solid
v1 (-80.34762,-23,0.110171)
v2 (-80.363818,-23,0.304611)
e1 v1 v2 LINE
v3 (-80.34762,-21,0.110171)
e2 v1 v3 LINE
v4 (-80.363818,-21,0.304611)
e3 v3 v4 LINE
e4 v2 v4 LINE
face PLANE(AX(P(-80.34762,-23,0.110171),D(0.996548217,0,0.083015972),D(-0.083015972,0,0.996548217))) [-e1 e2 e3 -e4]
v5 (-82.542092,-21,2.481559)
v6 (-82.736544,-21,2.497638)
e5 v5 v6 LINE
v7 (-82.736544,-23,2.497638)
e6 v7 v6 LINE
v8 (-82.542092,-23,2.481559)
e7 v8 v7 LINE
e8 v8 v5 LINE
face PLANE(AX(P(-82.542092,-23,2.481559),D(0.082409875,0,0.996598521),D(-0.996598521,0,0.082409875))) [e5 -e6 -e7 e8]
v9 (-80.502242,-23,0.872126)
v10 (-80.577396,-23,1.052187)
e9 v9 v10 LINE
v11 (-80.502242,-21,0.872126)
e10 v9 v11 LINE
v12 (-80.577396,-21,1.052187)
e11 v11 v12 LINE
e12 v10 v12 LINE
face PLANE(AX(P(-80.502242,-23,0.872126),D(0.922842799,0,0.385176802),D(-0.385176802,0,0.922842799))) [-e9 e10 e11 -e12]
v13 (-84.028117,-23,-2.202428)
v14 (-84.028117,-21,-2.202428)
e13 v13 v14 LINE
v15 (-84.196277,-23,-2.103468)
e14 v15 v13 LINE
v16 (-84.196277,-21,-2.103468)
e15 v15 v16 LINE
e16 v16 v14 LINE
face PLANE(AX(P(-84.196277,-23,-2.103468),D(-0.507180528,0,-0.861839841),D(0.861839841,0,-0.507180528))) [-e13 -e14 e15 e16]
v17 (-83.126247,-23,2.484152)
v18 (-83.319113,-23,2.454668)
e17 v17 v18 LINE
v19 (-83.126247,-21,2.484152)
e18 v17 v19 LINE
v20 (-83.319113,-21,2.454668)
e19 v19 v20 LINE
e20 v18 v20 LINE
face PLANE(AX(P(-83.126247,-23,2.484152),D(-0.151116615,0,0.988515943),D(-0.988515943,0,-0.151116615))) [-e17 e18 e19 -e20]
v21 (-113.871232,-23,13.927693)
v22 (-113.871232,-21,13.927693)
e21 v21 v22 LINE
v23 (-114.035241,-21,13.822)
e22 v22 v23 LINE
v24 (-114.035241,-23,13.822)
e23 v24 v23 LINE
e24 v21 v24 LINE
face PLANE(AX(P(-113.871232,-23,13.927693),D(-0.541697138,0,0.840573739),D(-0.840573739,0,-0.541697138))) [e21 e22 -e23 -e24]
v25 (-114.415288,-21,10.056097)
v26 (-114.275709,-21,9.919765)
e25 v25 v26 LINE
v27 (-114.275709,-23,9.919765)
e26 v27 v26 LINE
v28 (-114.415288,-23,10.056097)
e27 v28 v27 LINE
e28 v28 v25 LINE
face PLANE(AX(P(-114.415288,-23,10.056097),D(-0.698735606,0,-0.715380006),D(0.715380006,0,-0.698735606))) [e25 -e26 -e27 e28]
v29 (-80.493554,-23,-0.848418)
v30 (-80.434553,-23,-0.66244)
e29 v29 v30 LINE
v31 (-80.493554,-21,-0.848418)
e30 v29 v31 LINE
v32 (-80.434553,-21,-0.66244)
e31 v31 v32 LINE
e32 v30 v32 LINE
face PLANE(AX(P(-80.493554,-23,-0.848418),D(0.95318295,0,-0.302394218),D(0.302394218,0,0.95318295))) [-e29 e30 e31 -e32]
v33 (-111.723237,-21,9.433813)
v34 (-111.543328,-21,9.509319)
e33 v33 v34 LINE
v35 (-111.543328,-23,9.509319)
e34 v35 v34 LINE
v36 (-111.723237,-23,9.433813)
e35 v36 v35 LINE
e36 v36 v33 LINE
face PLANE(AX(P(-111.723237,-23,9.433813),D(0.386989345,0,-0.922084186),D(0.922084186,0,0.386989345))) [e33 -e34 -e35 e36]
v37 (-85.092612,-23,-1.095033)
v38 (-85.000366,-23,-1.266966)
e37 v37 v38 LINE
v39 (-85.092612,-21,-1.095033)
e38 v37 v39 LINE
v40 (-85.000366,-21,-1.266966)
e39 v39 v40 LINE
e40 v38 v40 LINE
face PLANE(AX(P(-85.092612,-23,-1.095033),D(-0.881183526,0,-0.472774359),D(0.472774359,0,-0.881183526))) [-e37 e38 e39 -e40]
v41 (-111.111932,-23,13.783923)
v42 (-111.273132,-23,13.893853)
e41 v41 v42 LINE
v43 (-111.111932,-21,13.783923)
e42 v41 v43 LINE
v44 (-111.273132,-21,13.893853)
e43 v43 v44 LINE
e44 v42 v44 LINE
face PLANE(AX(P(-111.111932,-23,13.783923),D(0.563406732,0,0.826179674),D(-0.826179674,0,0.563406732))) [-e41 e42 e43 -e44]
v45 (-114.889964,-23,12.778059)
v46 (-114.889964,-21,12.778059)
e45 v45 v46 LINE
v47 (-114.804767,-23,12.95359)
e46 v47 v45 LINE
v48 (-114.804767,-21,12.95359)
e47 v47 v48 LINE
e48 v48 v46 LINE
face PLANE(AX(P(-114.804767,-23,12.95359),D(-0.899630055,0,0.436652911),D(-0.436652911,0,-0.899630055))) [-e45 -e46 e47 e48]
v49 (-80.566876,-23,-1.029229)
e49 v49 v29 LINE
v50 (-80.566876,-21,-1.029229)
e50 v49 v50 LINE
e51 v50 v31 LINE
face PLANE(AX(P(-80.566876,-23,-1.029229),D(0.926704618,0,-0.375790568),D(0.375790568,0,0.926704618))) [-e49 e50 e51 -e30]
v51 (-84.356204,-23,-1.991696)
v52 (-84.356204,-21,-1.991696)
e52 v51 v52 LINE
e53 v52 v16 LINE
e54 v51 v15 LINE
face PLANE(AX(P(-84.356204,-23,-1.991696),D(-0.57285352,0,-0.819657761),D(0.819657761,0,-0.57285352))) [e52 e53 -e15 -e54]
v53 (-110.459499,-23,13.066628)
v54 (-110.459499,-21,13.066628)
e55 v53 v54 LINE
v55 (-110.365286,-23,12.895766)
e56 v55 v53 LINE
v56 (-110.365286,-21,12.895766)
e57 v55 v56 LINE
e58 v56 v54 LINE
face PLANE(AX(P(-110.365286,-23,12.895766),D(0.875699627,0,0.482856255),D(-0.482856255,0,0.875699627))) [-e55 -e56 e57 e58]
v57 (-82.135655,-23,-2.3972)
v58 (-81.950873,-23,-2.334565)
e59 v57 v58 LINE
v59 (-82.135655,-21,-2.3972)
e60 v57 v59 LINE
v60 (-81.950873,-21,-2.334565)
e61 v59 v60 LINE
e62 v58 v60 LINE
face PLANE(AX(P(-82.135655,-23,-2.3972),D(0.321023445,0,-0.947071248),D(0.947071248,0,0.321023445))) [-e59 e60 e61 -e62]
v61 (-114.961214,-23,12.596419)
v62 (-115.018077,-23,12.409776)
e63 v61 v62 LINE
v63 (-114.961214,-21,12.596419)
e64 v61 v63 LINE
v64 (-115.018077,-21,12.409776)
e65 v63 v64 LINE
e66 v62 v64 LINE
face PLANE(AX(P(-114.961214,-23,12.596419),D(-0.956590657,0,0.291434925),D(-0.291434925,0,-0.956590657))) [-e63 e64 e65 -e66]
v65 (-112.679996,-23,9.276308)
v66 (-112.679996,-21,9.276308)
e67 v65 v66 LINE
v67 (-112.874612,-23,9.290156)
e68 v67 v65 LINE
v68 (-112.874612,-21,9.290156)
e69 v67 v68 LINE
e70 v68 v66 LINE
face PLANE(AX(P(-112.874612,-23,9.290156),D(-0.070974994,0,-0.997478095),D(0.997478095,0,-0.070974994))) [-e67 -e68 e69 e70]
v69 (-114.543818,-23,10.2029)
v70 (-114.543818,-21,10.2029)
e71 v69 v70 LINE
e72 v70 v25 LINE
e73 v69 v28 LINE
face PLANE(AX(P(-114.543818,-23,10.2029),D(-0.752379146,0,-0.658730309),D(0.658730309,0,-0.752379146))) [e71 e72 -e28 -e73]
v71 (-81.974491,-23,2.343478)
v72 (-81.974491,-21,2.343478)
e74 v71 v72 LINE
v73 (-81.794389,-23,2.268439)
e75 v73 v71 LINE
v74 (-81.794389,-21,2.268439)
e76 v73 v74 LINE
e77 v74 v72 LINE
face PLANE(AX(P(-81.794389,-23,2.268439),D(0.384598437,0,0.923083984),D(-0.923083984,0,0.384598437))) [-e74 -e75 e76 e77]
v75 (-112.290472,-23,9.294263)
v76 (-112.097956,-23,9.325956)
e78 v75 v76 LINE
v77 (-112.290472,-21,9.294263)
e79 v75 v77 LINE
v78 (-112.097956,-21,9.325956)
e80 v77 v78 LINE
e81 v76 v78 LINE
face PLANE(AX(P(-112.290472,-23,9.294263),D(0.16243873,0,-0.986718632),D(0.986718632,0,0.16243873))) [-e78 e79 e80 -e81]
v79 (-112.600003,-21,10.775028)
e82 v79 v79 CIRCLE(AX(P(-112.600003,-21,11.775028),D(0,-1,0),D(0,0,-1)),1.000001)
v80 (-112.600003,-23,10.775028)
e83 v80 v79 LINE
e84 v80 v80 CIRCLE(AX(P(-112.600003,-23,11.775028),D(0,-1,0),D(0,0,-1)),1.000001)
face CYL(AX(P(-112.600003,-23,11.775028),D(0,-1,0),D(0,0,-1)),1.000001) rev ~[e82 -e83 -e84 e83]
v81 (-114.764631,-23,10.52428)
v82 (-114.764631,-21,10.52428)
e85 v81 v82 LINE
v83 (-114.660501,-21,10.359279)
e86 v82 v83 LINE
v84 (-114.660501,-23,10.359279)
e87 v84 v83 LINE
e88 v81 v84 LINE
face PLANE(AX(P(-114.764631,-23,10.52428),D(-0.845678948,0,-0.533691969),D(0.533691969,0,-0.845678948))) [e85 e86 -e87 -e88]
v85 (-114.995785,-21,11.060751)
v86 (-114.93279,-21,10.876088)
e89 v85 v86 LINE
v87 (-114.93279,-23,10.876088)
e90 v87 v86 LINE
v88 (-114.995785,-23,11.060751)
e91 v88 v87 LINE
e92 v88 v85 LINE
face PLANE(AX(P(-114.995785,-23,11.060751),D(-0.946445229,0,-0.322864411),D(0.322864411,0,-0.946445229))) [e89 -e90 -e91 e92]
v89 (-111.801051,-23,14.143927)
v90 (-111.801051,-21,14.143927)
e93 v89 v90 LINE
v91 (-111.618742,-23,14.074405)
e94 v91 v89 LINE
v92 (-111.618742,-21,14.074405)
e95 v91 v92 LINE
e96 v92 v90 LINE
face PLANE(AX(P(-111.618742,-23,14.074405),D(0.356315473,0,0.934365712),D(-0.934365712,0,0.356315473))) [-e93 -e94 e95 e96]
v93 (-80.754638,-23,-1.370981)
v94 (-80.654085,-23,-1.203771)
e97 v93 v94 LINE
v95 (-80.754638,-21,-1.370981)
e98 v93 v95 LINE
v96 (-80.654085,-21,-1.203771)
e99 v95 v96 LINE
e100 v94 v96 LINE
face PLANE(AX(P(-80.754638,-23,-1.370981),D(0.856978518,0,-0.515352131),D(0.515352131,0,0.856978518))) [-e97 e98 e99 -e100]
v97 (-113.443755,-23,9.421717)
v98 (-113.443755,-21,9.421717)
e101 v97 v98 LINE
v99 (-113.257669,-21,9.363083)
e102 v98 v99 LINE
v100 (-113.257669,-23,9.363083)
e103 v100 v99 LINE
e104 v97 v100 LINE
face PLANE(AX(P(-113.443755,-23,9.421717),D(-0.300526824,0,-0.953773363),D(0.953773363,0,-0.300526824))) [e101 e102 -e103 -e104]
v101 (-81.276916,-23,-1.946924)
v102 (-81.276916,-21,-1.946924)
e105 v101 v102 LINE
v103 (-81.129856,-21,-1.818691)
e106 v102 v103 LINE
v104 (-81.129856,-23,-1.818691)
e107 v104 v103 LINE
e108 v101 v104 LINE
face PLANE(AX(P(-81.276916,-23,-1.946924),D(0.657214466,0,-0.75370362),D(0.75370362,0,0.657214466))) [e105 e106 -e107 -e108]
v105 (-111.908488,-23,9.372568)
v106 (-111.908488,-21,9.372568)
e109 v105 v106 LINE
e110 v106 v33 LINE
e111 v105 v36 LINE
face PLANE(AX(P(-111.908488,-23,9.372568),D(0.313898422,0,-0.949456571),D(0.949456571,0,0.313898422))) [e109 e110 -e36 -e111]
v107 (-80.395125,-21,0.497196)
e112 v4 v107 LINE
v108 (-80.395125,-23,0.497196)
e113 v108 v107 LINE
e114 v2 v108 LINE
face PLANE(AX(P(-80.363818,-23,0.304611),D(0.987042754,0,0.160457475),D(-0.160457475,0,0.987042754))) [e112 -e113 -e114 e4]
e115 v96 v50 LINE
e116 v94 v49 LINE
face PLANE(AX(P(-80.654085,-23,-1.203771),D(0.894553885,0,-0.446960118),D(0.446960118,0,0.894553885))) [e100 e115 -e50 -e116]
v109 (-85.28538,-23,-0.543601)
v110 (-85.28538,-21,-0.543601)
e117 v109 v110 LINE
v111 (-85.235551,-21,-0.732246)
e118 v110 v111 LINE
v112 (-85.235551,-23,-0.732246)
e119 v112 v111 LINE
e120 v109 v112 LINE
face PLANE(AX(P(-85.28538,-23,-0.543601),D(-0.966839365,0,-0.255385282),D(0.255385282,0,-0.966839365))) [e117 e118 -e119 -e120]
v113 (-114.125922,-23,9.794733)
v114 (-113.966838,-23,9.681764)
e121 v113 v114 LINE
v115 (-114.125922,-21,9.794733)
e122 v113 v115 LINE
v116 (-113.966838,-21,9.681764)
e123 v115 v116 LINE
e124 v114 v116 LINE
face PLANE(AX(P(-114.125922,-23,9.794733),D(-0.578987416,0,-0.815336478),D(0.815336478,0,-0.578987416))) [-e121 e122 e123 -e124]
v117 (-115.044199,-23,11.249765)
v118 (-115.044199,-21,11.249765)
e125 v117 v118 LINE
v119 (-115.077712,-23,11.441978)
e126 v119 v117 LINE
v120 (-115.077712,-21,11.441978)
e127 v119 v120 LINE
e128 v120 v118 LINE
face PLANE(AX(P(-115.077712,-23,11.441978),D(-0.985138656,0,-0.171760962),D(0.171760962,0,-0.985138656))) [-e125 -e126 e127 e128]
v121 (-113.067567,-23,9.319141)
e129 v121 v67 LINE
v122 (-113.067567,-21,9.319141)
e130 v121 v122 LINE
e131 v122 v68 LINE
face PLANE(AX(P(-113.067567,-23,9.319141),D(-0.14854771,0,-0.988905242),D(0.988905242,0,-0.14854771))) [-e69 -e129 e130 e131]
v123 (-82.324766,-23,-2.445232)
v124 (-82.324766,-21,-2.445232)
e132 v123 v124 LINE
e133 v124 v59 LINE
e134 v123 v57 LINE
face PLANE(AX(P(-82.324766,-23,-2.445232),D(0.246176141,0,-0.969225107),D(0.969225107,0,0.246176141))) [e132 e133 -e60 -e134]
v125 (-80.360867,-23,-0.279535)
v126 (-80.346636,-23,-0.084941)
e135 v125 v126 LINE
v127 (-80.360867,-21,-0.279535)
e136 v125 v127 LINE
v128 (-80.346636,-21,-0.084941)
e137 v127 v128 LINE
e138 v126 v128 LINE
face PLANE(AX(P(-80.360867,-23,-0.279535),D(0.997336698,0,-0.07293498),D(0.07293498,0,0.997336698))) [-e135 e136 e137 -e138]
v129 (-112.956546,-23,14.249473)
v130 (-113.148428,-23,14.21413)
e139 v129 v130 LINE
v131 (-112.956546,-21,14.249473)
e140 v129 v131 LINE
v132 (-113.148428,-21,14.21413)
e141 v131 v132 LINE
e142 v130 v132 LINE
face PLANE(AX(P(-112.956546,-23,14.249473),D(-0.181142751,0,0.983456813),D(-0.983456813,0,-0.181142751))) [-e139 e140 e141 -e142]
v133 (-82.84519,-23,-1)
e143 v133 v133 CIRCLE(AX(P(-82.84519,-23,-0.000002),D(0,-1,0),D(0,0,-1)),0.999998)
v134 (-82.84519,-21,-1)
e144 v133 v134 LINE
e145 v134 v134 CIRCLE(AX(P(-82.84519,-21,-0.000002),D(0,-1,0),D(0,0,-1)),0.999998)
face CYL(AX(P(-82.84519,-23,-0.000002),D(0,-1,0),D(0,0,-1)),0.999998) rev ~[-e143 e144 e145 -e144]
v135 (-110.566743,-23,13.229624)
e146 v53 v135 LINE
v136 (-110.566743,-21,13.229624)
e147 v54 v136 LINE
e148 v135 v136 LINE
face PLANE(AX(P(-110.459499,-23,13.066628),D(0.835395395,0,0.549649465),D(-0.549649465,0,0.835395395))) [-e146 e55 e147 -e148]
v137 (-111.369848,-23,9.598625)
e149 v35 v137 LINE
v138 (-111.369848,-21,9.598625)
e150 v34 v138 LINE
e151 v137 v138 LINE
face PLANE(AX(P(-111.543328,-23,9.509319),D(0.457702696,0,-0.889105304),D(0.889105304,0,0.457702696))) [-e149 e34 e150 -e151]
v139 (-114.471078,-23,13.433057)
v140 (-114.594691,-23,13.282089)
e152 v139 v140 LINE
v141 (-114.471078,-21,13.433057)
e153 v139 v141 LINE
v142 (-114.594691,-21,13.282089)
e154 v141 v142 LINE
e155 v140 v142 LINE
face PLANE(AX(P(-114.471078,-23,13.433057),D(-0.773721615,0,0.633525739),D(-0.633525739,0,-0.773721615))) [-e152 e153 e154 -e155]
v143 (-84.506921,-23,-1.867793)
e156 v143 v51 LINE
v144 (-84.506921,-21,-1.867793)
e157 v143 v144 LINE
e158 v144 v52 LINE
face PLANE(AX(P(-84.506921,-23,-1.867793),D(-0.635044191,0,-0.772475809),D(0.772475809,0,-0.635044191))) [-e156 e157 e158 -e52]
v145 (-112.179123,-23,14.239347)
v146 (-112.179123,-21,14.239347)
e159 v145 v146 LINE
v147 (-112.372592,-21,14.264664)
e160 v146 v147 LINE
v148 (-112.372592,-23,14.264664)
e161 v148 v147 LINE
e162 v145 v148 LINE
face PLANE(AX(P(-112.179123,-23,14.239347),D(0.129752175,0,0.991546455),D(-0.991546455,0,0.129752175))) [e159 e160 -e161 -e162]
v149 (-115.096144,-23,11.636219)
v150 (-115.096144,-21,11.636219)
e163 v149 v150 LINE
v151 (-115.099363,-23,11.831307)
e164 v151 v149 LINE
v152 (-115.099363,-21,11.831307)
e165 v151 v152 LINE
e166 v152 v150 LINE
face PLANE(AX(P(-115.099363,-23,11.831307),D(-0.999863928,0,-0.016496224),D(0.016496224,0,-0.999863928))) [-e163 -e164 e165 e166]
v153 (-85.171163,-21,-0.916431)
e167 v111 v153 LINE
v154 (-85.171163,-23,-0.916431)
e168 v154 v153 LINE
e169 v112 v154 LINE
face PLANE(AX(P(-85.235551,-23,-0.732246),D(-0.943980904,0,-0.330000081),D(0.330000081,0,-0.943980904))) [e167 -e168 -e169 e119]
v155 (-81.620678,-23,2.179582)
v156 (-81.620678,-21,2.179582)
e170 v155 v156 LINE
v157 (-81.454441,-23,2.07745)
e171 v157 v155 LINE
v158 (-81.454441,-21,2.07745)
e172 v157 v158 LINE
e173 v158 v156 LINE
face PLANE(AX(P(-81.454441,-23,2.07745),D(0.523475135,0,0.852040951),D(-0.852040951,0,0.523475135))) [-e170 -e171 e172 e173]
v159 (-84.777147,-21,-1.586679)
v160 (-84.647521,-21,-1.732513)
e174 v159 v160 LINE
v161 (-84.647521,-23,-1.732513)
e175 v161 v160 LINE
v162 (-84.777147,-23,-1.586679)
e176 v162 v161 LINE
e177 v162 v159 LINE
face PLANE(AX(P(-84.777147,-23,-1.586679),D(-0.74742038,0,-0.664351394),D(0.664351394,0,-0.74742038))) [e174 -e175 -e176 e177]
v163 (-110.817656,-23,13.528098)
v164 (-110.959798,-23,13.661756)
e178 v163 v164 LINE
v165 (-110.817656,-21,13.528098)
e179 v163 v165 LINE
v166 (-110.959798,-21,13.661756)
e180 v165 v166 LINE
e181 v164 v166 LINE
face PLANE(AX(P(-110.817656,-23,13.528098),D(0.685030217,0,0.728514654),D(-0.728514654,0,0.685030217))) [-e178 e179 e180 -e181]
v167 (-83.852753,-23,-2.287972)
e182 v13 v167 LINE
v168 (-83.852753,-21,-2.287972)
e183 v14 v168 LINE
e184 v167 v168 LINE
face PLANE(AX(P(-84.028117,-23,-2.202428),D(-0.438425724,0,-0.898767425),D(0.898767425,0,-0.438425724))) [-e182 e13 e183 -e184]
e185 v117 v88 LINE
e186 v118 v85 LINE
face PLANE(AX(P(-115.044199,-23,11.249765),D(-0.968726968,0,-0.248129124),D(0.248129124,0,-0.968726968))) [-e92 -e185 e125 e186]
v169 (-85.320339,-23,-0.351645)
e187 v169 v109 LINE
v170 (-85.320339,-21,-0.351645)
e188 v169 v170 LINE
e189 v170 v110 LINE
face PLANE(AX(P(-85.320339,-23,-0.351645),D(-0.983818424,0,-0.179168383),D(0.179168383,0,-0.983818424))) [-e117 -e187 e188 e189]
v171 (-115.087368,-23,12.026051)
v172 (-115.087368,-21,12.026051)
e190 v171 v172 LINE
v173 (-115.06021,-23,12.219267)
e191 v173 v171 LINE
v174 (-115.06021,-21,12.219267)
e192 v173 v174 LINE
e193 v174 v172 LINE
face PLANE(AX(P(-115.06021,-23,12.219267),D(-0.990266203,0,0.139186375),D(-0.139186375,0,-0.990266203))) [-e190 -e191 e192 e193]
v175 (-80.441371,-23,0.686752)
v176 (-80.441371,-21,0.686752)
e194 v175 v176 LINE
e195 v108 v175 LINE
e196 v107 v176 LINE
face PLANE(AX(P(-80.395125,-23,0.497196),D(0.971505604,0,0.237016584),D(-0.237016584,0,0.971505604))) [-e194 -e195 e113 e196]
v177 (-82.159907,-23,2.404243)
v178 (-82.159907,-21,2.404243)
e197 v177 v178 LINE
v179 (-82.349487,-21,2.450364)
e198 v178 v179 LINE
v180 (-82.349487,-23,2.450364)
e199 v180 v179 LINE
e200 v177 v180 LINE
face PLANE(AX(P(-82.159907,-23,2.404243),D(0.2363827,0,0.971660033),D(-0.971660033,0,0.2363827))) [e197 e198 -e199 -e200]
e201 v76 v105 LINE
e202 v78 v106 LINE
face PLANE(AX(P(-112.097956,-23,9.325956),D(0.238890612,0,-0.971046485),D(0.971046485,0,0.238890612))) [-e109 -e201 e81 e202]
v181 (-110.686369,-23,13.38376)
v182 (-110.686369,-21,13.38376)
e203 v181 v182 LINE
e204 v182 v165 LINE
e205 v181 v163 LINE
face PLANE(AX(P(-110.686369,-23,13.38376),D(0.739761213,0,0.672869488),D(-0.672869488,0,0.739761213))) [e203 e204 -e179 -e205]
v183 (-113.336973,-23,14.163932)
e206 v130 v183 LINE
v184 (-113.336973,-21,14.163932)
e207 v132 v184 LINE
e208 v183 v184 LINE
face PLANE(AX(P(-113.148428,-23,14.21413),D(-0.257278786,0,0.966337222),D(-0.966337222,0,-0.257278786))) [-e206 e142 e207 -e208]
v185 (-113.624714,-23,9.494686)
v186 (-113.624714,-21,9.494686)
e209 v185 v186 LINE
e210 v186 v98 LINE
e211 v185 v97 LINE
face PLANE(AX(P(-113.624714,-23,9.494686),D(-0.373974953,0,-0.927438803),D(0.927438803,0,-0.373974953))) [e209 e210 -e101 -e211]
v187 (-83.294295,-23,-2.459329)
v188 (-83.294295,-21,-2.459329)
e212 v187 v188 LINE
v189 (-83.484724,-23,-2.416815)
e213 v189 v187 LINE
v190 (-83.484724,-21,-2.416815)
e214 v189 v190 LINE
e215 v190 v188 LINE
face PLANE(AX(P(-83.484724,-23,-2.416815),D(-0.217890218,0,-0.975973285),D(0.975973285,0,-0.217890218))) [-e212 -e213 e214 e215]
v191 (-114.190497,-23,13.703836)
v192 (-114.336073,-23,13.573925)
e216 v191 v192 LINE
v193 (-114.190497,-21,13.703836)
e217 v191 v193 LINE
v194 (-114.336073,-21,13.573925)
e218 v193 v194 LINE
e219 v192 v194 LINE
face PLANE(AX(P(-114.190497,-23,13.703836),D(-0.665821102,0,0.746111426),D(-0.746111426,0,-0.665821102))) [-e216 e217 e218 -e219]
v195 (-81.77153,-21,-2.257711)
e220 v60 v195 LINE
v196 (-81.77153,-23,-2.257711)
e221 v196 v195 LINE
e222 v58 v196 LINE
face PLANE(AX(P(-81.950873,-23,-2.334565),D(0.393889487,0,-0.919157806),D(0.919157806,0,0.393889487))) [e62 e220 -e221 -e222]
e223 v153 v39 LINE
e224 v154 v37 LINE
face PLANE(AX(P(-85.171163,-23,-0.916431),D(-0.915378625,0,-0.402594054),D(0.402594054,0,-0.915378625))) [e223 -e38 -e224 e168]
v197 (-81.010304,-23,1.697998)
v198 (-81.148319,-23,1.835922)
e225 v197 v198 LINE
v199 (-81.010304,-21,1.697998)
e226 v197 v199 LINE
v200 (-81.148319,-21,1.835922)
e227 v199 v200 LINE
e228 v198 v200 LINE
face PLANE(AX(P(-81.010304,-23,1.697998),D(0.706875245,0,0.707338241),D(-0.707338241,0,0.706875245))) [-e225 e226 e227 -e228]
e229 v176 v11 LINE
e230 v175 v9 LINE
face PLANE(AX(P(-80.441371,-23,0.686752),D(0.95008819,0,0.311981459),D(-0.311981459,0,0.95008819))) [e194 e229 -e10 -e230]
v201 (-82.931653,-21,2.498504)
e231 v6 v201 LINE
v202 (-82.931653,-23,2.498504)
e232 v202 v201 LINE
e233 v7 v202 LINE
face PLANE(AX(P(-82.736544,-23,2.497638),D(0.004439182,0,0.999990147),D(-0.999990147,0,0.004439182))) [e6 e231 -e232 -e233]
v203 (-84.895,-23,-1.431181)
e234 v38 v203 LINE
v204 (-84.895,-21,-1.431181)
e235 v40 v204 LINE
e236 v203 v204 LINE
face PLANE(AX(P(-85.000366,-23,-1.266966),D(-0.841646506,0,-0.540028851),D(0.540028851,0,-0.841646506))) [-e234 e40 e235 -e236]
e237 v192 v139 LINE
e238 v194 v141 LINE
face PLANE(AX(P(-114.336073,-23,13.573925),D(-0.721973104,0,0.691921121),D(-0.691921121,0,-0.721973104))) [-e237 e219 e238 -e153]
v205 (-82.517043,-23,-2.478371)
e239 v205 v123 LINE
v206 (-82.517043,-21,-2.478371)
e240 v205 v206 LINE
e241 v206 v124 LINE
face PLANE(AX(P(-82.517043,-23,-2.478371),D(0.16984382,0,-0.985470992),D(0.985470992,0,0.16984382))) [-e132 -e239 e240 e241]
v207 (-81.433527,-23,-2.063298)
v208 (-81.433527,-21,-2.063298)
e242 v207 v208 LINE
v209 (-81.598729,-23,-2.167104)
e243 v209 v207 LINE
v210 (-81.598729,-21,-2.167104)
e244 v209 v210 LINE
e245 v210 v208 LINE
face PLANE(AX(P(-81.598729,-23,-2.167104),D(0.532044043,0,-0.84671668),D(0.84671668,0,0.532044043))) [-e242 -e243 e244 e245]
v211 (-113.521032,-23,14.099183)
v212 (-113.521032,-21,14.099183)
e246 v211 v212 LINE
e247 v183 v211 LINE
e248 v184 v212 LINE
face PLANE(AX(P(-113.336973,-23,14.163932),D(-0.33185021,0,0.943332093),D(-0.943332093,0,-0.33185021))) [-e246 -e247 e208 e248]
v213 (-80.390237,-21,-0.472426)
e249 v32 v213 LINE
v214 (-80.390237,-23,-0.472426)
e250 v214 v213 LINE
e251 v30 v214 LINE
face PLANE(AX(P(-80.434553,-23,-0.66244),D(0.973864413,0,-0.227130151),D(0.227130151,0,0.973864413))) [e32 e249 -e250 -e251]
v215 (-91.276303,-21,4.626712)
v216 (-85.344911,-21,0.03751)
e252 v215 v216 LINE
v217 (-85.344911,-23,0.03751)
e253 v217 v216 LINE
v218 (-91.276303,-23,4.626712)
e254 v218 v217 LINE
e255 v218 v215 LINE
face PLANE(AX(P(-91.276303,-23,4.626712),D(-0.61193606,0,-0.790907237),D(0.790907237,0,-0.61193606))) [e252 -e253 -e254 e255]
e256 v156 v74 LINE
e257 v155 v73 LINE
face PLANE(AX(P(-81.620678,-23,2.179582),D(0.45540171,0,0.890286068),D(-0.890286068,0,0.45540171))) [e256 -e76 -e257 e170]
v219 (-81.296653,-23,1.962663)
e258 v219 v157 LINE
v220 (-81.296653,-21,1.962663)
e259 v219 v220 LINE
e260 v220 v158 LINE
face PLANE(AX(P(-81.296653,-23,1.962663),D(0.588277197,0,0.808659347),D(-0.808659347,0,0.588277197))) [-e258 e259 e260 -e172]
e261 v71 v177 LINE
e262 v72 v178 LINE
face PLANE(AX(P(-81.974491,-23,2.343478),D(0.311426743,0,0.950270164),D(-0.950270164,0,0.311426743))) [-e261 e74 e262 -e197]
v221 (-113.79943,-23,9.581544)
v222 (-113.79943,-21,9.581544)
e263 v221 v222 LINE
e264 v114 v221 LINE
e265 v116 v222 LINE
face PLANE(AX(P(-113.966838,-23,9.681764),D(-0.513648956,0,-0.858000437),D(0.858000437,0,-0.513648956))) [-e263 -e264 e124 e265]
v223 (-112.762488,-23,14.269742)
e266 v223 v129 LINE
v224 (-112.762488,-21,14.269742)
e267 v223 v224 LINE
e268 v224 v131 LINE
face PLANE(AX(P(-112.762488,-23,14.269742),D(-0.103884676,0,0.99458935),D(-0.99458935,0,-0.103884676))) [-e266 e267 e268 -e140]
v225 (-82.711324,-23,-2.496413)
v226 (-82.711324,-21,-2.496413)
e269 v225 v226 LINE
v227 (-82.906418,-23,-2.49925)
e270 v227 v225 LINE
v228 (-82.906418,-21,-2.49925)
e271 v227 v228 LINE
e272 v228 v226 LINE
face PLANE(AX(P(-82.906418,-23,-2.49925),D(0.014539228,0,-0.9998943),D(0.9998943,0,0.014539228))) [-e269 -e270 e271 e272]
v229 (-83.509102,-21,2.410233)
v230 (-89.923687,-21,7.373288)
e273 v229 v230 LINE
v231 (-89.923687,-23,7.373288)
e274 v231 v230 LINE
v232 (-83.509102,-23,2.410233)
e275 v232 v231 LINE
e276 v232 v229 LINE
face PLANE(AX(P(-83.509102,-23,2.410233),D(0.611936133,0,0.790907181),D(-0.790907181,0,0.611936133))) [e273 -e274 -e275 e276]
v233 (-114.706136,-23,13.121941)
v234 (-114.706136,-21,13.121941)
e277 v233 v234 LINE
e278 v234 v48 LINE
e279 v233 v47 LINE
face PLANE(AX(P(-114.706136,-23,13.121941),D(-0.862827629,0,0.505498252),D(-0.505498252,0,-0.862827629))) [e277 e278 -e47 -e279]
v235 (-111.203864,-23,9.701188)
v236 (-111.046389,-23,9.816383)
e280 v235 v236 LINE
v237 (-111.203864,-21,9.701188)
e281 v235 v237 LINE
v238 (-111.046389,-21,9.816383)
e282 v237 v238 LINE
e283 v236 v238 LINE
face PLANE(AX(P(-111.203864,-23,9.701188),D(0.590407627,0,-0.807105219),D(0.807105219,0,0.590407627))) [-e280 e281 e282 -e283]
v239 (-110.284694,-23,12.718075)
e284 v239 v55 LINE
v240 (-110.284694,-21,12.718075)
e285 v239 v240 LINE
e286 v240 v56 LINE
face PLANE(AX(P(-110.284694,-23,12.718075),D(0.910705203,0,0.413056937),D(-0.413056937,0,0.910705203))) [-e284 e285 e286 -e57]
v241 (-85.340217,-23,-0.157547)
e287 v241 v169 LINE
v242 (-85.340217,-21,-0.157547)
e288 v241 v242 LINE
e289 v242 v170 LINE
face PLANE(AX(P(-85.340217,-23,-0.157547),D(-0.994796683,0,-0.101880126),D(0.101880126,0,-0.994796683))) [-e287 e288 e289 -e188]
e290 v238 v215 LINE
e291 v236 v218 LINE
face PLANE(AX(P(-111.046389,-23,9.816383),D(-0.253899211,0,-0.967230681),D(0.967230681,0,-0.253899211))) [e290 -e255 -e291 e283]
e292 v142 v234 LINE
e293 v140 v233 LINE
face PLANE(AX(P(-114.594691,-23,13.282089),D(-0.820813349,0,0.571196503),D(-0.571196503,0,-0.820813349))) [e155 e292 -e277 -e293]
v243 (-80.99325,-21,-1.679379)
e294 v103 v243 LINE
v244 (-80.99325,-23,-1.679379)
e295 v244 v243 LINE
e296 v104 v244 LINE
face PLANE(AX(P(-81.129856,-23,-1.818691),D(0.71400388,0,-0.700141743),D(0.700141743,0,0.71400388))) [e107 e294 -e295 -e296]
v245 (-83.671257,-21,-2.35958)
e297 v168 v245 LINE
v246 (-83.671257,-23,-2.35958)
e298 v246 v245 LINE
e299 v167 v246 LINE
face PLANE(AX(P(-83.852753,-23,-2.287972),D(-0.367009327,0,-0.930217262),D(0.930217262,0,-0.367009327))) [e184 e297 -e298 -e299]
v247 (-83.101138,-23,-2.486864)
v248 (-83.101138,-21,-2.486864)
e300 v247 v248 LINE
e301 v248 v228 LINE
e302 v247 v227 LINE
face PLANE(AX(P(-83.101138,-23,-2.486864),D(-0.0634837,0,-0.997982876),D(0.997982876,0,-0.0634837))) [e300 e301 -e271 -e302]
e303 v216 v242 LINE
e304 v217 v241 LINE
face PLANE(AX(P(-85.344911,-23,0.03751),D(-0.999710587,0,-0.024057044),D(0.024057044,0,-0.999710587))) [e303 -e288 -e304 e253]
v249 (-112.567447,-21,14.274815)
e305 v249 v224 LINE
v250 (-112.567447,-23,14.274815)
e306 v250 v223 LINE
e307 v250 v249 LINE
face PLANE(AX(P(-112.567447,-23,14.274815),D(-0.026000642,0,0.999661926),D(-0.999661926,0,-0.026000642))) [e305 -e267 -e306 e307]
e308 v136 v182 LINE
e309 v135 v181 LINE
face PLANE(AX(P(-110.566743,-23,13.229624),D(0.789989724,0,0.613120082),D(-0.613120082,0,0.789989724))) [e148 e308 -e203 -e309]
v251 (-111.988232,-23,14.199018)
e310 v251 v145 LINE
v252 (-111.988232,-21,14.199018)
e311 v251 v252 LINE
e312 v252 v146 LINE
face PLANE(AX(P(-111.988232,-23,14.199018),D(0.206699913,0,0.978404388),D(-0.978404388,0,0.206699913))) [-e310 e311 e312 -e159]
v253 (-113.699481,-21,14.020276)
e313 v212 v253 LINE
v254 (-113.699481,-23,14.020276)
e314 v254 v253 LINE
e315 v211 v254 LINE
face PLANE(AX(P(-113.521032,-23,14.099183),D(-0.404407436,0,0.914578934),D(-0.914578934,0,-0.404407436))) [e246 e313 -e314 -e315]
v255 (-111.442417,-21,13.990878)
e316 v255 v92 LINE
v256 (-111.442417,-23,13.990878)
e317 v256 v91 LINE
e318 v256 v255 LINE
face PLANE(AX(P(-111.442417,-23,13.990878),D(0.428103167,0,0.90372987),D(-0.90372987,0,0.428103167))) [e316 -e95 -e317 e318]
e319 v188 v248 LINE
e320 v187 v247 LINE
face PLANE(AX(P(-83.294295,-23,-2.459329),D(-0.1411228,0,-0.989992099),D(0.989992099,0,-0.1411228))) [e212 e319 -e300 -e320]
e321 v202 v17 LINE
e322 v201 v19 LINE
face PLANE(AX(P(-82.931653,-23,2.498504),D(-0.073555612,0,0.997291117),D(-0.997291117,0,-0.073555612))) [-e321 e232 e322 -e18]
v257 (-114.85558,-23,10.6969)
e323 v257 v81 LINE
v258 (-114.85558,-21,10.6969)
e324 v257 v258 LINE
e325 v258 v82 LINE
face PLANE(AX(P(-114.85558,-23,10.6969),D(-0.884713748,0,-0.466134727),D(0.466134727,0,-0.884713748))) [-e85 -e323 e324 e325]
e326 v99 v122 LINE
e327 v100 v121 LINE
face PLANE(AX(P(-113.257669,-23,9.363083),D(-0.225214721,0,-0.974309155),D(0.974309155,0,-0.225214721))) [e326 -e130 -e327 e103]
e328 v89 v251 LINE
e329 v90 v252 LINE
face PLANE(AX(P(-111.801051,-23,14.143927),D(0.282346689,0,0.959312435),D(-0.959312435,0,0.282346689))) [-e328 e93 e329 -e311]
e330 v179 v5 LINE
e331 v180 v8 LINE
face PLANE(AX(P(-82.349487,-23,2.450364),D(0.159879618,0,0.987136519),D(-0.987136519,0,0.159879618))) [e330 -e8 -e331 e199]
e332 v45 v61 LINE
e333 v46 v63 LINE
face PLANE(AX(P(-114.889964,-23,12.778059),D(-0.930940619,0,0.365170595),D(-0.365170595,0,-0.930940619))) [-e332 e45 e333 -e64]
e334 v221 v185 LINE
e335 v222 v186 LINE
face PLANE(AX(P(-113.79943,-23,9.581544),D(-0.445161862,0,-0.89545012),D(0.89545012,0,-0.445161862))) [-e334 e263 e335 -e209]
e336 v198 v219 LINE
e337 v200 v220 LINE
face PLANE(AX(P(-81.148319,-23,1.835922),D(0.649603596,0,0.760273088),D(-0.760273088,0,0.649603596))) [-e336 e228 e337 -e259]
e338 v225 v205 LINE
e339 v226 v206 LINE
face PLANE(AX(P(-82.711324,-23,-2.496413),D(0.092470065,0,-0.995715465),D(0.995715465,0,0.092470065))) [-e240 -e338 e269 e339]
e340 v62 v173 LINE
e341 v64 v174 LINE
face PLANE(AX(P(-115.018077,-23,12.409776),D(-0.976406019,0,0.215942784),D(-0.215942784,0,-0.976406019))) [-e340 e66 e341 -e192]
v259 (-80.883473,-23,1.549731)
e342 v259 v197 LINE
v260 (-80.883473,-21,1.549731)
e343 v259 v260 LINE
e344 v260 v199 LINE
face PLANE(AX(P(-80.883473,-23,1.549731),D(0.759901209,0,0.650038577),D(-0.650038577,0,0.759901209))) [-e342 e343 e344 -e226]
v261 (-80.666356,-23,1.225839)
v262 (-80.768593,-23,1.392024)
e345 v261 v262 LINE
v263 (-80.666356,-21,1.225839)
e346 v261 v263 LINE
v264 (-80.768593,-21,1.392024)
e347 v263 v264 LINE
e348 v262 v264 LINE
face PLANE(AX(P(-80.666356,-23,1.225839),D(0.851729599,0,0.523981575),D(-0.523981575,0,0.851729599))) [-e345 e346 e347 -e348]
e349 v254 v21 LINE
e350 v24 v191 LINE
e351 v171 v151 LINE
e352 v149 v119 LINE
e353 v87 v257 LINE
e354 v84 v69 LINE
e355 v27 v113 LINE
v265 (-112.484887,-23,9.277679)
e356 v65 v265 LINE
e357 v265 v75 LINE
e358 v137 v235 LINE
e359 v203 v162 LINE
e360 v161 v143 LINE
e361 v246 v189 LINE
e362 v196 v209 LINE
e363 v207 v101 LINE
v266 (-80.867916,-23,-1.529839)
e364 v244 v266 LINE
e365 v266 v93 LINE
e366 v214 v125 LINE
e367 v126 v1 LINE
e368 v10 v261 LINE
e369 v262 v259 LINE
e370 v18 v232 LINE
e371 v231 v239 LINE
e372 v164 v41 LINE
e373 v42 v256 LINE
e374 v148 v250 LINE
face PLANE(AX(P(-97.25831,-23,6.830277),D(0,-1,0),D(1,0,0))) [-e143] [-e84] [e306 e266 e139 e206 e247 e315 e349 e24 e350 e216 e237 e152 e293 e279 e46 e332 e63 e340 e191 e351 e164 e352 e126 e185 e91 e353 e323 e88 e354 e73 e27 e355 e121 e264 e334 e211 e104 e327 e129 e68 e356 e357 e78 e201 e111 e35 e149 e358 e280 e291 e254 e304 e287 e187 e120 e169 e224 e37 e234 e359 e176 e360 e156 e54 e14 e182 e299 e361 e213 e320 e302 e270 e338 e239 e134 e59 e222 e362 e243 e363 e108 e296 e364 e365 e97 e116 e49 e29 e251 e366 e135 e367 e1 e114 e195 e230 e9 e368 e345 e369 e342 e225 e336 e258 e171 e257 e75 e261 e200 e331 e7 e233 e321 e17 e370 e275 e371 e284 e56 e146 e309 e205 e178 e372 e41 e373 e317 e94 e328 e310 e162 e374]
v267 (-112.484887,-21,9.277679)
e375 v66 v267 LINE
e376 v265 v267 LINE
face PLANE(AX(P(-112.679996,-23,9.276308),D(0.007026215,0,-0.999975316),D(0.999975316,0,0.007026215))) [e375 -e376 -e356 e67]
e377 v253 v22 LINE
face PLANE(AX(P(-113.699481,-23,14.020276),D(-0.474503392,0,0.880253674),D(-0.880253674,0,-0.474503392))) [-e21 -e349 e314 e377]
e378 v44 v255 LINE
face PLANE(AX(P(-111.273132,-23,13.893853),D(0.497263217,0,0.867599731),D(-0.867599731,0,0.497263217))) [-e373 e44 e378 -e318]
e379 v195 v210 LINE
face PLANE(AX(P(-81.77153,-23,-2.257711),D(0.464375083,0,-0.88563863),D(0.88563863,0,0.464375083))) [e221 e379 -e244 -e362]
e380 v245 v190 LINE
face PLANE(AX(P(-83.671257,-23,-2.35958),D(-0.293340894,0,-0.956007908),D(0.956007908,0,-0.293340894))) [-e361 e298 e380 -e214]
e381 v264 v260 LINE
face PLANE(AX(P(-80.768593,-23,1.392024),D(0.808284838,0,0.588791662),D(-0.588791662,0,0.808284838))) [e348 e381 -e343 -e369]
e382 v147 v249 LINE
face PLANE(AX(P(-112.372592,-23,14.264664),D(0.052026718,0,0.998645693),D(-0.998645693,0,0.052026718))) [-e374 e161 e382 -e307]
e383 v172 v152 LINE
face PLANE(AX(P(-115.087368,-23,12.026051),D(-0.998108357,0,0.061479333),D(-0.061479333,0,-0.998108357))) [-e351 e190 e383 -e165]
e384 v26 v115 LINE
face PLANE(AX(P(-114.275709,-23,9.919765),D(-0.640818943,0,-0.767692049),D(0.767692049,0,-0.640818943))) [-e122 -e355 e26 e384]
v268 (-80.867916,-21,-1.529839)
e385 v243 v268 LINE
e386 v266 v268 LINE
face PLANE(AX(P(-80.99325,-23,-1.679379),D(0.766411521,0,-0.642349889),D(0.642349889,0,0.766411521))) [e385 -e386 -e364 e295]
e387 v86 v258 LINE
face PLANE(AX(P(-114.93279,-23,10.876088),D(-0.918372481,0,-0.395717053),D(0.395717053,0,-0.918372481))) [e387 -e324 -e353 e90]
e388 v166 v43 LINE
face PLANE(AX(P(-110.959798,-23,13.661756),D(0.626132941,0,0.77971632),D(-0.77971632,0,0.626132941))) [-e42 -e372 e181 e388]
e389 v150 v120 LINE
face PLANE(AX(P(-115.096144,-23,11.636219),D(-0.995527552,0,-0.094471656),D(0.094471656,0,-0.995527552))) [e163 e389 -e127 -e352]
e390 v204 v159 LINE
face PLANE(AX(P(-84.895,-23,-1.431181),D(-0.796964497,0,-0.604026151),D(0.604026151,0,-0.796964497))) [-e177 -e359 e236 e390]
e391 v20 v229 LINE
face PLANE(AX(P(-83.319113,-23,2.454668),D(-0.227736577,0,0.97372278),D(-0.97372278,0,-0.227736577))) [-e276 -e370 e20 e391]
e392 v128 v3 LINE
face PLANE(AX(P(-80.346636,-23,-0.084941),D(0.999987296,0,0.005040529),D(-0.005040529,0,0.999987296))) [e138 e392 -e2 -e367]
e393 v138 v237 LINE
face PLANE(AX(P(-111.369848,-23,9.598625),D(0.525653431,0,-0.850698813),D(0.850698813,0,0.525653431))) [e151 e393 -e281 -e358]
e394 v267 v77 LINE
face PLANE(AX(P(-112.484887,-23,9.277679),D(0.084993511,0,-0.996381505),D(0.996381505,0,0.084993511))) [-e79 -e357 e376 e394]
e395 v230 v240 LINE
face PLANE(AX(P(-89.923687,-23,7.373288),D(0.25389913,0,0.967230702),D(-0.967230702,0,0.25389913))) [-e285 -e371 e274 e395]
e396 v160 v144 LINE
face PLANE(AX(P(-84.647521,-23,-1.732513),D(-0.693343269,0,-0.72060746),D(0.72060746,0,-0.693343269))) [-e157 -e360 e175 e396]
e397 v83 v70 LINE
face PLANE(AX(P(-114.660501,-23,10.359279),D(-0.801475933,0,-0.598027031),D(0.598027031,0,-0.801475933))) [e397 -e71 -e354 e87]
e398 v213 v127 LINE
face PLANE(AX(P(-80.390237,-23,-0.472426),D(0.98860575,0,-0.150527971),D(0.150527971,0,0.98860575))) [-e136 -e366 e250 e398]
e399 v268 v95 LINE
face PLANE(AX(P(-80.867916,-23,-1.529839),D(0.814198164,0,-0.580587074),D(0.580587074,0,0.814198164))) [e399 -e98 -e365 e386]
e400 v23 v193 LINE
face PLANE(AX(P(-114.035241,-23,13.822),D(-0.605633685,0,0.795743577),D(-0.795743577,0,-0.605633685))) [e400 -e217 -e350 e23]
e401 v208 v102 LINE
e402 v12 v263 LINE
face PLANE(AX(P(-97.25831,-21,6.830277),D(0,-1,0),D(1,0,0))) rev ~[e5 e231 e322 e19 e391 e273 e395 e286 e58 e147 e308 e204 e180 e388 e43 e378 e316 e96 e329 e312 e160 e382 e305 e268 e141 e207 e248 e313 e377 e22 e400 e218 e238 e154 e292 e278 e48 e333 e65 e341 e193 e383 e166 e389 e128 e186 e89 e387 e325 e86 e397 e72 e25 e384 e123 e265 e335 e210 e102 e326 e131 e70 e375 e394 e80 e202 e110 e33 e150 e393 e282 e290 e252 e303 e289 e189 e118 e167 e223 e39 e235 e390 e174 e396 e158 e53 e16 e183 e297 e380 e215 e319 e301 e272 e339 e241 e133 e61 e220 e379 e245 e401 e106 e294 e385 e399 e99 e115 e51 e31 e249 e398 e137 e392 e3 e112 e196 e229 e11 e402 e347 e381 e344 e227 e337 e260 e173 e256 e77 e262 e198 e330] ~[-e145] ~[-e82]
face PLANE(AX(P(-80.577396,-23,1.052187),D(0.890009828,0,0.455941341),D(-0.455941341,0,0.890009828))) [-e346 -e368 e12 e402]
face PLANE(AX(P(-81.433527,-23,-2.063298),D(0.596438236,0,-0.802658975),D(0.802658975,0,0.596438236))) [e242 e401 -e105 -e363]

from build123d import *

# Parameters (mm, degrees)
SKETCH_1_R      = 0.999998023
SKETCH_1_R_2    = 1.000000976
EXTRUDE_1_DEPTH = 2.000000328


with BuildPart() as part:
    # Эскиз1 → Бобышка-Вытянуть1 (new body)
    with BuildSketch(Plane.XZ.offset(23.000000045)):
        Polygon((-84.028117359, -2.202427713), (-83.852753043, -2.287971787), (-83.6712569, -2.35957955), (-83.484724164, -2.416815143), (-83.294294775, -2.45932932), (-83.101138473, -2.486863639), (-82.906417549, -2.499250229), (-82.711324096, -2.496413421), (-82.517042756, -2.478370909), (-82.324765623, -2.445232356), (-82.135654986, -2.397199627), (-81.950873137, -2.334565157), (-81.771530211, -2.257710788), (-81.598728895, -2.167104278), (-81.433527172, -2.063297899), (-81.276915967, -1.946923556), (-81.129856408, -1.818690565), (-80.993250012, -1.679379493), (-80.867916346, -1.529839239), (-80.754637718, -1.370980637), (-80.654084682, -1.203771099), (-80.566875637, -1.029229374), (-80.493554473, -0.848418393), (-80.434553325, -0.662439677), (-80.390237272, -0.472426036), (-80.360867083, -0.279534725), (-80.346636474, -0.084940737), (-80.347619951, 0.110170622), (-80.363817513, 0.304610934), (-80.395124853, 0.497195811), (-80.441370606, 0.686752202), (-80.50224185, 0.872125558), (-80.577395856, 1.052186592), (-80.666355789, 1.225838787), (-80.768592656, 1.392024336), (-80.883473158, 1.549730659), (-81.010304391, 1.697997563), (-81.148318946, 1.835921779), (-81.296652555, 1.96266314), (-81.454440951, 2.077449812), (-81.620678306, 2.17958237), (-81.794388592, 2.268439159), (-81.974491477, 2.343478147), (-82.159906626, 2.40424322), (-82.349486649, 2.450363711), (-82.542091608, 2.481558593), (-82.736544311, 2.49763811), (-82.931652665, 2.49850424), (-83.126246929, 2.484151861), (-83.319112659, 2.454668051), (-83.509102464, 2.410232788), (-89.923687279, 7.373288274), (-110.284693539, 12.718074955), (-110.365286469, 12.895765714), (-110.459499061, 13.066628017), (-110.566742718, 13.229624368), (-110.68636924, 13.383760117), (-110.817655921, 13.528098352), (-110.959798098, 13.66175618), (-111.111931503, 13.78392335), (-111.273132265, 13.893852942), (-111.442416906, 13.990878128), (-111.618742347, 14.074404724), (-111.801050603, 14.143927023), (-111.98823154, 14.199018478), (-112.179122865, 14.239346609), (-112.372592092, 14.264663681), (-112.567447126, 14.274815097), (-112.762488425, 14.269742183), (-112.956546247, 14.249472879), (-113.1484285, 14.214130118), (-113.336972892, 14.163931832), (-113.521032035, 14.099182561), (-113.699480891, 14.020276256), (-113.871231675, 13.927693479), (-114.035241306, 13.821999542), (-114.190496504, 13.703836128), (-114.336073399, 13.573925011), (-114.471077919, 13.433056884), (-114.594690502, 13.282089494), (-114.706136286, 13.121941127), (-114.804767072, 12.95358967), (-114.889964461, 12.778058648), (-114.961214364, 12.596419081), (-115.018077195, 12.409775518), (-115.060210228, 12.219266966), (-115.087367594, 12.026051059), (-115.099363029, 11.831306852), (-115.096144378, 11.636218987), (-115.077711642, 11.441977695), (-115.04419893, 11.249764822), (-114.995785058, 11.060751043), (-114.932790399, 10.876088403), (-114.855580032, 10.696900077), (-114.764630795, 10.524280369), (-114.66050148, 10.35927888), (-114.543817937, 10.202899575), (-114.415287971, 10.05609706), (-114.275708795, 9.919765405), (-114.125922322, 9.794733487), (-113.966837525, 9.681764059), (-113.79943043, 9.581544437), (-113.624714315, 9.494686499), (-113.443754613, 9.421717376), (-113.257668912, 9.363083169), (-113.067567348, 9.319140576), (-112.874612212, 9.290155955), (-112.679995596, 9.276308119), (-112.484887242, 9.277679026), (-112.290471792, 9.294263087), (-112.09795624, 9.325955994), (-111.908487976, 9.372567758), (-111.72323674, 9.433813393), (-111.54332757, 9.50931944), (-111.369848251, 9.598624893), (-111.203864217, 9.701187722), (-111.046388745, 9.816383012), (-91.276302934, 4.62671183), (-85.344910622, 0.037510123), (-85.340216756, -0.157547402), (-85.320338607, -0.351645285), (-85.285380483, -0.543601287), (-85.235551, -0.732246088), (-85.171163082, -0.916430785), (-85.092611611, -1.095033367), (-85.000365973, -1.266965992), (-84.894999862, -1.431181328), (-84.777146578, -1.586679369), (-84.647521377, -1.73251261), (-84.50692147, -1.867792918), (-84.356203675, -1.991696423), (-84.196276963, -2.10346817), align=None)
        with Locations(Location((-82.845189618, -1.945e-06, 0), (0, 0, 270))):
            Circle(SKETCH_1_R, mode=Mode.SUBTRACT)
        with Locations(Location((-112.600002971, 11.775028493, 0), (0, 0, 270))):
            Circle(SKETCH_1_R_2, mode=Mode.SUBTRACT)
    extrude(amount=-EXTRUDE_1_DEPTH)


solid = part.part
